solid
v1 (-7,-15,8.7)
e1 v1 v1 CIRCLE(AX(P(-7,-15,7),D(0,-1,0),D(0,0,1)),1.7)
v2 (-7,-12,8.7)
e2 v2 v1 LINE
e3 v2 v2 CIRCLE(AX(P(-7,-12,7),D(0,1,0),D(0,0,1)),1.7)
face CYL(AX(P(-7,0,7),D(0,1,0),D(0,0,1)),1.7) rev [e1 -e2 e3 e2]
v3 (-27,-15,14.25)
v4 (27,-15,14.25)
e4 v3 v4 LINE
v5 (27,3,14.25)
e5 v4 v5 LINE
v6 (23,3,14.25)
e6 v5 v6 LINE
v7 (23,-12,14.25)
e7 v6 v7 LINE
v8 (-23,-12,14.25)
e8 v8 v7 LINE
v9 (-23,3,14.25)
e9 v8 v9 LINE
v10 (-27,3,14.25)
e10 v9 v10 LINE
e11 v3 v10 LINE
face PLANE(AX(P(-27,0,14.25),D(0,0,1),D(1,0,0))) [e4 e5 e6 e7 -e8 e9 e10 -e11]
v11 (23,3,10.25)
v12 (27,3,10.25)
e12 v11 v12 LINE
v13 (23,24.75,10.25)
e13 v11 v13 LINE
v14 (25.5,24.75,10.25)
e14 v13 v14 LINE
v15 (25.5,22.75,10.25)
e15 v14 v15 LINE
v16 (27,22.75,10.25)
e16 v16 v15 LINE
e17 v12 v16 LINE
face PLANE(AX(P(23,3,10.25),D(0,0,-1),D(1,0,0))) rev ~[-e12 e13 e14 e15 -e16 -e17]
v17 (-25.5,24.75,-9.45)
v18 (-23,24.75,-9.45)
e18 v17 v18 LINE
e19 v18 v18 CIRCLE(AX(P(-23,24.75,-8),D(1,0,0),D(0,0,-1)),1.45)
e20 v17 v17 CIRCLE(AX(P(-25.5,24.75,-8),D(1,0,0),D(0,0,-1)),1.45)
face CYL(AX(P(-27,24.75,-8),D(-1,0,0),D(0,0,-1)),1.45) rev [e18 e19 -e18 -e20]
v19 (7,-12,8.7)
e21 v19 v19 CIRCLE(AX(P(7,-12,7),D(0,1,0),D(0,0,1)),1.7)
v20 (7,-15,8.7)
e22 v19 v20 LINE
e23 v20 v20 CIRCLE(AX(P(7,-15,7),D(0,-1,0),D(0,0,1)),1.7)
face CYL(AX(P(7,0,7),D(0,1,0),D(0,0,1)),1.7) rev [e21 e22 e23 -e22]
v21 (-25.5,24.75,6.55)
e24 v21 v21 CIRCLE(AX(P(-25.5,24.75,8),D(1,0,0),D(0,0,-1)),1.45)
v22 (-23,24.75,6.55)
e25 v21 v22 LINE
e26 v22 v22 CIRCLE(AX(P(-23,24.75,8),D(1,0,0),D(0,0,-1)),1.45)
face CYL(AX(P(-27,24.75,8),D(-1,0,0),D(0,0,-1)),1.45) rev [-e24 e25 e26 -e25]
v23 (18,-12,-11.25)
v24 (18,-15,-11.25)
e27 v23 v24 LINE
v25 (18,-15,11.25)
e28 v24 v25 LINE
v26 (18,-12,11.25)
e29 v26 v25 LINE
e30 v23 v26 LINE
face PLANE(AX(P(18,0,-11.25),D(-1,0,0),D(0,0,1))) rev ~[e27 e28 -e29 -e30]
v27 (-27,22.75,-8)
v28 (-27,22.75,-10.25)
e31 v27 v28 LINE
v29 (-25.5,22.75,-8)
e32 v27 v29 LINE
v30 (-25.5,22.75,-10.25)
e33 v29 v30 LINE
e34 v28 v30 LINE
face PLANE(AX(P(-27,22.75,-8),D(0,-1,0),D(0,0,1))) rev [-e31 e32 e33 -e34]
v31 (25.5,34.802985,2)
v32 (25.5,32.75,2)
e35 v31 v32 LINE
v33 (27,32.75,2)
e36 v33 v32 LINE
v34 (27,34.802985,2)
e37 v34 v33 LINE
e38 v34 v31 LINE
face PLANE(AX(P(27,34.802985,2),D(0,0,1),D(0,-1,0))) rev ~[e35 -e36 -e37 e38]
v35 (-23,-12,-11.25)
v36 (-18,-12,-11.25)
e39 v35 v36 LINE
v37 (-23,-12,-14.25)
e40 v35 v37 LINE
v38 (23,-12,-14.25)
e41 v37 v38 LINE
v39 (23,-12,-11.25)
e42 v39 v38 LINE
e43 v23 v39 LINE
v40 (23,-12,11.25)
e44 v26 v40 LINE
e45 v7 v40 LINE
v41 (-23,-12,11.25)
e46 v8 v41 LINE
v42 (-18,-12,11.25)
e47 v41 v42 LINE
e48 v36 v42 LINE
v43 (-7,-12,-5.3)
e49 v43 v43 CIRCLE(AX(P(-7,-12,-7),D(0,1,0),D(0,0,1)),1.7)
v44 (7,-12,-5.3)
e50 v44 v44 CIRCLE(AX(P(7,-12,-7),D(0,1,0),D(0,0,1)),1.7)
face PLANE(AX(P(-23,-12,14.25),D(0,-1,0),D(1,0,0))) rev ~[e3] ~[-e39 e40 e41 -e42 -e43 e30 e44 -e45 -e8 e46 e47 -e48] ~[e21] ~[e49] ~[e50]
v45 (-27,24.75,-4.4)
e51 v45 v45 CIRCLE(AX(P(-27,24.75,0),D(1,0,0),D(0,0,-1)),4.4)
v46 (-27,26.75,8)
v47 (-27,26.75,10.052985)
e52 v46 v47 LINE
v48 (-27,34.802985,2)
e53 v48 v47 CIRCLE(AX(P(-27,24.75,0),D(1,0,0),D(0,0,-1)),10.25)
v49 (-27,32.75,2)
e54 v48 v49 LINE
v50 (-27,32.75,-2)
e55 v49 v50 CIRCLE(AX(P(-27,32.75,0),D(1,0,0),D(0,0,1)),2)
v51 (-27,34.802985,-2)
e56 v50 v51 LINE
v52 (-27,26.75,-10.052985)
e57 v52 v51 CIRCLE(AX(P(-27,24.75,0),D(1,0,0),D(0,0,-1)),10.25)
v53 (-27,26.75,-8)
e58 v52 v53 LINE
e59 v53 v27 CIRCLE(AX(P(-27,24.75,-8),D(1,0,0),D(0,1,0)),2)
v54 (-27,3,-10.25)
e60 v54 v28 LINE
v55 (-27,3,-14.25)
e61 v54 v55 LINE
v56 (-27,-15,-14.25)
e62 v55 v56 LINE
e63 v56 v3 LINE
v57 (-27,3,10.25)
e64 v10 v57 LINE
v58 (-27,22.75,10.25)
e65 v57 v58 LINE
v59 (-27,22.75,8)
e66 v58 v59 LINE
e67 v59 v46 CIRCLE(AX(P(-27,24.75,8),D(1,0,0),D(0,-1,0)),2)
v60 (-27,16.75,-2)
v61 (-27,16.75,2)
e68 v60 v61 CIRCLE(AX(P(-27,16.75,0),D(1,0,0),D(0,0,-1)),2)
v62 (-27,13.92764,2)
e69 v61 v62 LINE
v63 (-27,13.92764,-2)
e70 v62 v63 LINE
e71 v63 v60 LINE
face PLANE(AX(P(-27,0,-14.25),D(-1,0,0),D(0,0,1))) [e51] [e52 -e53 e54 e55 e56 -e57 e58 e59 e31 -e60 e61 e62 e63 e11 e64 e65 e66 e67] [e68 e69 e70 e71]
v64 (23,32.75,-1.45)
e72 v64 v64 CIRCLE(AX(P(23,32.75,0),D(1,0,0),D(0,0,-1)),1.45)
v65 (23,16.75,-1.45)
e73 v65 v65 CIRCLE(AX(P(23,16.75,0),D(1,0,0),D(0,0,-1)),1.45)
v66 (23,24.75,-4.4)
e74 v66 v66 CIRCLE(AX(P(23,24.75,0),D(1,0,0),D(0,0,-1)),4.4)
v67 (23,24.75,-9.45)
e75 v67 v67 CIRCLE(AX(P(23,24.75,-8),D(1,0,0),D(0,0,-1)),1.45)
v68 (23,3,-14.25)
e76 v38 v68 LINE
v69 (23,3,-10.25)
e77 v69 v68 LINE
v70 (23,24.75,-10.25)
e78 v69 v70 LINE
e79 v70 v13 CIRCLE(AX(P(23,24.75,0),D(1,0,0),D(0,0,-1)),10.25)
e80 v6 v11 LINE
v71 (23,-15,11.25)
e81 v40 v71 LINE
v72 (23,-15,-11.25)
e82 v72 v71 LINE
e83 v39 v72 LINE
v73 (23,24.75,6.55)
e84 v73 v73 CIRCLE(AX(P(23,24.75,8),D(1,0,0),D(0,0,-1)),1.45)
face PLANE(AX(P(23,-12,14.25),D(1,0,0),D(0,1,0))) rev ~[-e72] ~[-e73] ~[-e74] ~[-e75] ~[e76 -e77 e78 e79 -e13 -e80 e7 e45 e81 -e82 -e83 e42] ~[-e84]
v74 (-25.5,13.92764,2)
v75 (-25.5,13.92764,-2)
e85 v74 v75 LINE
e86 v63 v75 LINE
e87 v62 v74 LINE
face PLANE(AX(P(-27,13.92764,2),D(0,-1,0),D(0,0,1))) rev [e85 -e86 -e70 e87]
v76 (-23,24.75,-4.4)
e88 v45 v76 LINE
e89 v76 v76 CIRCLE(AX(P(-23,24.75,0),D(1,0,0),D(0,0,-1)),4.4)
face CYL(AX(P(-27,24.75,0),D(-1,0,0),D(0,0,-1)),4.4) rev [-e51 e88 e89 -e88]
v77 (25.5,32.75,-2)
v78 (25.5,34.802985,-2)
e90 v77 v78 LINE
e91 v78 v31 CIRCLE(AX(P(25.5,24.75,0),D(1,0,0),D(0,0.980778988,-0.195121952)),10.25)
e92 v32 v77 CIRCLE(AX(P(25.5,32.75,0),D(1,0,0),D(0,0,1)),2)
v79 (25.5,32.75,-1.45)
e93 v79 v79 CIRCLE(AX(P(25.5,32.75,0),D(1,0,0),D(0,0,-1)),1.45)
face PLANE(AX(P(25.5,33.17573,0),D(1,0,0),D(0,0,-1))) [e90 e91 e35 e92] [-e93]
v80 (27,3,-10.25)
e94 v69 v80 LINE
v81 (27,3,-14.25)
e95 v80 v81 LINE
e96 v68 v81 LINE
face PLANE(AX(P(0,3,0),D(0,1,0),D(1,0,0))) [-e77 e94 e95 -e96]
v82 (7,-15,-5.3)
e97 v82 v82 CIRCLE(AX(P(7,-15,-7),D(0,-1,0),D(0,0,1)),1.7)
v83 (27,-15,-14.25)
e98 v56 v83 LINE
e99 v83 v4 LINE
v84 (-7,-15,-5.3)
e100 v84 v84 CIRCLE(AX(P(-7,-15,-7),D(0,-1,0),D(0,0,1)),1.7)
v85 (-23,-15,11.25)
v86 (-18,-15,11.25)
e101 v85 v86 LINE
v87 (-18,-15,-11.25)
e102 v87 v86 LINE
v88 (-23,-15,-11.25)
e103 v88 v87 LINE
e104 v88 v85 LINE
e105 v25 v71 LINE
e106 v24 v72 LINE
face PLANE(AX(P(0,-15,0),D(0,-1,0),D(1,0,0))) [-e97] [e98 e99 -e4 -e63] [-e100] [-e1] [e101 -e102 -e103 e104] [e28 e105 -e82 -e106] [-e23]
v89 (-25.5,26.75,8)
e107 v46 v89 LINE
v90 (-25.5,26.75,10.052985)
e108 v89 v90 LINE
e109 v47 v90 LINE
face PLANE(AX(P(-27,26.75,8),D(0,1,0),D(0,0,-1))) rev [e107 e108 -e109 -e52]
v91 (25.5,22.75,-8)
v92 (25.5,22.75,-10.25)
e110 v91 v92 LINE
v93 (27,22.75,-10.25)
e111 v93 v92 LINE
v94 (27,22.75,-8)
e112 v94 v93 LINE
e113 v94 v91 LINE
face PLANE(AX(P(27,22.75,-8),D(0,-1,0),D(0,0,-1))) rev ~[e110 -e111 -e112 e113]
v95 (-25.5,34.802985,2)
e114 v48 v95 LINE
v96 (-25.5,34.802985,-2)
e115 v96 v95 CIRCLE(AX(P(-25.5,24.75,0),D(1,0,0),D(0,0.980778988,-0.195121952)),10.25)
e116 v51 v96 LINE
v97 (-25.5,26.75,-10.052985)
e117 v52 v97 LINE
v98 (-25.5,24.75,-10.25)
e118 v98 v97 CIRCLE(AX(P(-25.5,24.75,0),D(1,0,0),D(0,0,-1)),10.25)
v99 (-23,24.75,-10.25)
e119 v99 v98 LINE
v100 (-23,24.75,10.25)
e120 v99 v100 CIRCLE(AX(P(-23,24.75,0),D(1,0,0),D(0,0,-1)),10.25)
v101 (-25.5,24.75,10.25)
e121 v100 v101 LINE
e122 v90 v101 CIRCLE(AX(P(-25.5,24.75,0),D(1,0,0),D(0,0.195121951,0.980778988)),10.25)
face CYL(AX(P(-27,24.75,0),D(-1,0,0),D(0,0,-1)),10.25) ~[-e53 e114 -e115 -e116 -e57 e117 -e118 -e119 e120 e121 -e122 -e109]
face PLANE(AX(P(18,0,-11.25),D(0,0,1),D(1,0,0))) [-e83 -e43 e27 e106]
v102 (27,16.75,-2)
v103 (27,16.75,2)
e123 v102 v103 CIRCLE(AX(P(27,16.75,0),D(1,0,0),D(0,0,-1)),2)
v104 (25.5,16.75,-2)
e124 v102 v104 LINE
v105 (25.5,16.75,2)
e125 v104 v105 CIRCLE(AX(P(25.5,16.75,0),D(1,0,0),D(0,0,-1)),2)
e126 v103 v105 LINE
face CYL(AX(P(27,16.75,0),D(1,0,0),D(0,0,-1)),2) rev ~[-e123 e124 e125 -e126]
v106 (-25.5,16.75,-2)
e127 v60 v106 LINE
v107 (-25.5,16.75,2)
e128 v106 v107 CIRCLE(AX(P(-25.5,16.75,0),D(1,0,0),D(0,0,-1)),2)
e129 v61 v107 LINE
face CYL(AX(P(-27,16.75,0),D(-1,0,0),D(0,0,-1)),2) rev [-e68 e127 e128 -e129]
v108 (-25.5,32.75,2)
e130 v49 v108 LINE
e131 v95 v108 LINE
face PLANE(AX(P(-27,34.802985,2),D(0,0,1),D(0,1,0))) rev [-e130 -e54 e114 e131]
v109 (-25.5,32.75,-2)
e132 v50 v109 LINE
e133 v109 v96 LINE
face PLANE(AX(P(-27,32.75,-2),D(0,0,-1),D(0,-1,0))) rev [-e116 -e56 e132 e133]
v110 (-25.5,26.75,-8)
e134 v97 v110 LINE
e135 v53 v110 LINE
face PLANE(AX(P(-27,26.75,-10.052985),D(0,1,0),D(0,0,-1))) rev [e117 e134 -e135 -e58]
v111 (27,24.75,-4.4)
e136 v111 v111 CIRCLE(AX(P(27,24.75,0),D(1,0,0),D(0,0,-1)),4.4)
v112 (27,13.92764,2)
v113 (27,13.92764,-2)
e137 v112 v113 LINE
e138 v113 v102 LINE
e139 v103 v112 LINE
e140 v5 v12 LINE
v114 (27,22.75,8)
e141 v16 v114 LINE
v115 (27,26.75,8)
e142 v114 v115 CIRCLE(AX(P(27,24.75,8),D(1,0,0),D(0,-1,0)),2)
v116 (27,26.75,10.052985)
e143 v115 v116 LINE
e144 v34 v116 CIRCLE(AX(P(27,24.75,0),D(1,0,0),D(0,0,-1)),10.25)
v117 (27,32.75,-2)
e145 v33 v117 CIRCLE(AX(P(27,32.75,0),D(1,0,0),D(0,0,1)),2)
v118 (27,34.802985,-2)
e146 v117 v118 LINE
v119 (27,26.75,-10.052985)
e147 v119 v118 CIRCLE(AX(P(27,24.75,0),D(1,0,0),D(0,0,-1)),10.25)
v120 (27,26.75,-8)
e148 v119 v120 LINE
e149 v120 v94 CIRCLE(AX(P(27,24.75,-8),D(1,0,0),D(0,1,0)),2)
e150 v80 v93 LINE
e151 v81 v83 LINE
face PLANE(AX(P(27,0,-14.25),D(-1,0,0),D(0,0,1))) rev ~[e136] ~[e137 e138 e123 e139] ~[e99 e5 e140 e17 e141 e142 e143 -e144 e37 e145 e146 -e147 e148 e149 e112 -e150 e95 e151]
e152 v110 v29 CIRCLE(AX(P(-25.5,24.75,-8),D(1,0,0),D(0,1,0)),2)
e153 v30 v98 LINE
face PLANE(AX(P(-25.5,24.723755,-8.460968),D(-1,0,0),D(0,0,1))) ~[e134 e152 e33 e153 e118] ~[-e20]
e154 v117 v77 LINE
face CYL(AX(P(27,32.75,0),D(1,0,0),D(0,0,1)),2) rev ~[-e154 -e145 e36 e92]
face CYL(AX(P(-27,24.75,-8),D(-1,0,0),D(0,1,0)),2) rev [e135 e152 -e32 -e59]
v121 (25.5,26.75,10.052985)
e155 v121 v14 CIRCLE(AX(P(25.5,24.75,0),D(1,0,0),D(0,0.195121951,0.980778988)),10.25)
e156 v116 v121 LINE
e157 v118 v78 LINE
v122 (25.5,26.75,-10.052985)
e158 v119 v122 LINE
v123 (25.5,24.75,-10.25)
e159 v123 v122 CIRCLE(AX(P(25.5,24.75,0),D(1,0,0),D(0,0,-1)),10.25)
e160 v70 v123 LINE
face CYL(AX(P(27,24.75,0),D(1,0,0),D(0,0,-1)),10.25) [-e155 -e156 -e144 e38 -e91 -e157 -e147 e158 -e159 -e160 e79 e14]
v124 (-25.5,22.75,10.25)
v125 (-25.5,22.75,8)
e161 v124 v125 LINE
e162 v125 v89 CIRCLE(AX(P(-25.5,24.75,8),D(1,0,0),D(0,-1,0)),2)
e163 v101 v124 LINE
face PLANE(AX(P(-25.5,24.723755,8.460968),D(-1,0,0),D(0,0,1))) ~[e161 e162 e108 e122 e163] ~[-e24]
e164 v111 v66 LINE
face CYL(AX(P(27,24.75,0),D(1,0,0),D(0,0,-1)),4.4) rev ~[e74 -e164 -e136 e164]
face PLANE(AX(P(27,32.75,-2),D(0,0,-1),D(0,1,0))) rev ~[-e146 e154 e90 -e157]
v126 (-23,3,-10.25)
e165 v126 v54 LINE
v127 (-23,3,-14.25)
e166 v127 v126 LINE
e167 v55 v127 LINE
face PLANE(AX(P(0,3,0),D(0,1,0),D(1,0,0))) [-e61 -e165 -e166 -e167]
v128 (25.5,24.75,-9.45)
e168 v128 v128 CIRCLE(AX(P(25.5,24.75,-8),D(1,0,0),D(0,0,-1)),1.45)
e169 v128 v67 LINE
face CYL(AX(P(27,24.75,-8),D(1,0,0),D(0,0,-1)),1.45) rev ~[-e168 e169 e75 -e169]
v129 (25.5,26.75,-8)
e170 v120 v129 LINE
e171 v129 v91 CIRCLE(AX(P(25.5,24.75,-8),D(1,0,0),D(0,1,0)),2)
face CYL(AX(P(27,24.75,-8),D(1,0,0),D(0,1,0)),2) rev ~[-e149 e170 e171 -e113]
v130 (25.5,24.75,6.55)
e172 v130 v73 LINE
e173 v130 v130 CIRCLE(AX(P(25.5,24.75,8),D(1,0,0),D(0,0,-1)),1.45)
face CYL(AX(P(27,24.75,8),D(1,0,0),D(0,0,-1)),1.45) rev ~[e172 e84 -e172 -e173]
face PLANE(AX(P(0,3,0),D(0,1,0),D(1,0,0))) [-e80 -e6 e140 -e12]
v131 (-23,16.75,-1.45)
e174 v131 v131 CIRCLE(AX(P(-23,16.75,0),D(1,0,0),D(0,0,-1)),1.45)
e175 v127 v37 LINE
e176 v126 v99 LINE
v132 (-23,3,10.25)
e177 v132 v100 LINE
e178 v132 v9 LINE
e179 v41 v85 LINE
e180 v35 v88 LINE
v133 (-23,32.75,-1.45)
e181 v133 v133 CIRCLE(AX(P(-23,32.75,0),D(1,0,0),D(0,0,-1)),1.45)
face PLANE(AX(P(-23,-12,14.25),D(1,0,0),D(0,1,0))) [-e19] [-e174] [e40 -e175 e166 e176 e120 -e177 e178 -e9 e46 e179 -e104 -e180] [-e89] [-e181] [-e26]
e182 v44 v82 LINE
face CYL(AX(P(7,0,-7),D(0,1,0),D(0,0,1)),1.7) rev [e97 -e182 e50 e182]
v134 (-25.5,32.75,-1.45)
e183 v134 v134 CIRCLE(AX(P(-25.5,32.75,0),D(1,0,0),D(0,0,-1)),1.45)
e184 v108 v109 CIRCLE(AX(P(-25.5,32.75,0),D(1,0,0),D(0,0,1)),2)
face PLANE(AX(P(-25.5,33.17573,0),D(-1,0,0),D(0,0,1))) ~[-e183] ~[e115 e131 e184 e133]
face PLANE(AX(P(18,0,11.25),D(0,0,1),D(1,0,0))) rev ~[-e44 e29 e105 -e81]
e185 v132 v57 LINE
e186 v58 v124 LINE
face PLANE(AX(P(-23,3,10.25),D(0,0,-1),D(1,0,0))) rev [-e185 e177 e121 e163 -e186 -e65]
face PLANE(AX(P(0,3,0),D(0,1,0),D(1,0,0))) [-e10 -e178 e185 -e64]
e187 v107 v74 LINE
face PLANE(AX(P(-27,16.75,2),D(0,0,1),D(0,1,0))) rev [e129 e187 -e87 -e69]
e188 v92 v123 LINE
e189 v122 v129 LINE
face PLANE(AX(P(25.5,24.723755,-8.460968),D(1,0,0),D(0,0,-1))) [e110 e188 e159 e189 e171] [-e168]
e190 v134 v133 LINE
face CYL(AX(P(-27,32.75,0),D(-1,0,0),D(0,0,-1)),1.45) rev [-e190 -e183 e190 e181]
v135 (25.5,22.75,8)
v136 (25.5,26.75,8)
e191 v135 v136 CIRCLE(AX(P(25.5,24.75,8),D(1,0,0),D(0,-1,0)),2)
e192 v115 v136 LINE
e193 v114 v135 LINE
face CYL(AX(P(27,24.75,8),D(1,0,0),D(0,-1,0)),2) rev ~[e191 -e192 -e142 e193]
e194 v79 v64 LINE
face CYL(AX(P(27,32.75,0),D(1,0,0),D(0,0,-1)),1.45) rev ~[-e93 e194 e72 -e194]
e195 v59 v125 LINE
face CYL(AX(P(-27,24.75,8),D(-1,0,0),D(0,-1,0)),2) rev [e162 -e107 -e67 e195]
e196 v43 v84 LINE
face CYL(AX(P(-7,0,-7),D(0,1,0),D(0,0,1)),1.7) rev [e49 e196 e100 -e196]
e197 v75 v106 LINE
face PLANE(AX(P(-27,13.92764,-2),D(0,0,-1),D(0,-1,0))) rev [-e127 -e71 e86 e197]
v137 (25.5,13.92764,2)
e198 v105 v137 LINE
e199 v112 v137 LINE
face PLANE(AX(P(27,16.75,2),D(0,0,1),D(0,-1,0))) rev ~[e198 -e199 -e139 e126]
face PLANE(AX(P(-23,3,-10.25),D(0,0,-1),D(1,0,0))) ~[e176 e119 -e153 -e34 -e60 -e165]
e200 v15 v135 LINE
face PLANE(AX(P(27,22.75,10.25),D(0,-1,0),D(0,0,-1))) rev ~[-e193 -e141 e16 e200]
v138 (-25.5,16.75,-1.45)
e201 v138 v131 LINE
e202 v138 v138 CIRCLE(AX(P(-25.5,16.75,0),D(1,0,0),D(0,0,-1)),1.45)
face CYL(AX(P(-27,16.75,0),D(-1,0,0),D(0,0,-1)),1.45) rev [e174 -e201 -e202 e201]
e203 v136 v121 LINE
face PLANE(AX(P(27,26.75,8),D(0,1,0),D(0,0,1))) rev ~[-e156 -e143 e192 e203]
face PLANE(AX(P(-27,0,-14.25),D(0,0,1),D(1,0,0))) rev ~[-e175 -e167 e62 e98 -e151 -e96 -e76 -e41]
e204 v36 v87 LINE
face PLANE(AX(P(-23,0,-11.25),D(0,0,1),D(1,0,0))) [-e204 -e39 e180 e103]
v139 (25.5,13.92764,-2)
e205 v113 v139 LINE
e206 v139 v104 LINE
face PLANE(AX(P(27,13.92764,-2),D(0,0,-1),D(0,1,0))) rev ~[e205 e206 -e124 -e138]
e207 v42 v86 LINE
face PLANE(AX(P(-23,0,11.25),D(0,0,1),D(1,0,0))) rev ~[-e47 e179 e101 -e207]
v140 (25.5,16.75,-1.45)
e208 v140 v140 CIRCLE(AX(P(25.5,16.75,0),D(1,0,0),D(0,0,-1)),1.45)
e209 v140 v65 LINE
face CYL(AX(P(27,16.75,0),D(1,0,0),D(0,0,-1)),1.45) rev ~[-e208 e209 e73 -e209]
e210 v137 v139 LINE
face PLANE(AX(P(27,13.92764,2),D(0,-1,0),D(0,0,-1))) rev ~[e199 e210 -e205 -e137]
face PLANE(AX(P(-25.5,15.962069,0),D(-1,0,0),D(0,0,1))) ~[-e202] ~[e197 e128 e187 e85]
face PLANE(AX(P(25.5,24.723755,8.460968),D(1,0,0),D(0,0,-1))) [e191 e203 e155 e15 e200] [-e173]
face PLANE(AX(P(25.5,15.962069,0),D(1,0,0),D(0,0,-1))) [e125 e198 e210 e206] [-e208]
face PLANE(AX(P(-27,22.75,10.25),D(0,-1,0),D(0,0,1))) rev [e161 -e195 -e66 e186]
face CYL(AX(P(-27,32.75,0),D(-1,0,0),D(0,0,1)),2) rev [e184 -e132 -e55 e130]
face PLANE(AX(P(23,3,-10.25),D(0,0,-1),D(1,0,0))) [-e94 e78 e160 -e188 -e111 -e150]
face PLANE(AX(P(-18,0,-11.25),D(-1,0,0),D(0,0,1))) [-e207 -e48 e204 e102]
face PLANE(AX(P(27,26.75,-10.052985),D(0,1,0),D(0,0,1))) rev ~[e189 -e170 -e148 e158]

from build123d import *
from build123d.topology import SkipClean

# Parameters (mm, degrees)
SKETCH1_W           = 54
SKETCH1_H           = 28.5
SKETCH1_W_2         = 5
SKETCH1_H_2         = 22.5
SKETCH1_R           = 1.7
SKETCH1_R_2         = 7.5
BOSS_EXTRUDE2_DEPTH = 3
SKETCH2_W           = 4
SKETCH2_H           = 20.5
BOSS_EXTRUDE3_DEPTH = 21.75
SKETCH4_R           = 10.25
BOSS_EXTRUDE4_DEPTH = 4
SKETCH6_R           = 4.4
SKETCH6_R_2         = 1.45
CUT_EXTRUDE3_DEPTH  = 4
SKETCH7_R           = 1.45
CUT_EXTRUDE4_DEPTH  = 1.5
SKETCH8_W           = 28.781481152
SKETCH8_H           = 28.5
BOSS_EXTRUDE5_DEPTH = 3
SKETCH9_R           = 1.7
CUT_EXTRUDE5_DEPTH  = 3
SKETCH10_W          = 54
SKETCH10_H          = 28.5
SKETCH10_R          = 1.7
SKETCH10_W_2        = 5
SKETCH10_H_2        = 22.5
BOSS_EXTRUDE6_DEPTH = 15
SKETCH11_W          = 46
SKETCH11_H          = 15
CUT_EXTRUDE6_DEPTH  = 53.595151868


with BuildPart() as part:
    # Sketch1 → Boss-Extrude2 (new body)
    with BuildSketch(Plane(origin=(0, 0, 0), x_dir=(1, 0, 0), z_dir=(0, 1, 0))):
        Rectangle(SKETCH1_W, SKETCH1_H)
        with Locations((20.5, 0)):
            Rectangle(SKETCH1_W_2, SKETCH1_H_2, mode=Mode.SUBTRACT)
        with Locations((-20.5, 0)):
            Rectangle(SKETCH1_W_2, SKETCH1_H_2, mode=Mode.SUBTRACT)
        with Locations(Location((-9, -8.25, 0), (0, 0, 270))):
            Circle(SKETCH1_R, mode=Mode.SUBTRACT)
        with Locations(Location((9, -8.25, 0), (0, 0, 270))):
            Circle(SKETCH1_R, mode=Mode.SUBTRACT)
        with Locations(Location((-9, 8.25, 0), (0, 0, 270))):
            Circle(SKETCH1_R, mode=Mode.SUBTRACT)
        with Locations(Location((0, 0, 0), (0, 0, 270))):
            Circle(SKETCH1_R_2, mode=Mode.SUBTRACT)
        with Locations(Location((9, 8.25, 0), (0, 0, 270))):
            Circle(SKETCH1_R, mode=Mode.SUBTRACT)
    extrude(amount=BOSS_EXTRUDE2_DEPTH)

    # Sketch2 → Boss-Extrude3 (add)
    with BuildSketch(Plane(origin=(0, 3, 0), x_dir=(1, 0, 0), z_dir=(0, 1, 0))):
        with Locations((25, 0)):
            Rectangle(SKETCH2_W, SKETCH2_H)
    boss_extrude3 = extrude(amount=BOSS_EXTRUDE3_DEPTH)

    # Sketch4 → Boss-Extrude4 (add)
    with BuildSketch(Plane(origin=(27, 0, 0), x_dir=(0, 0, -1), z_dir=(1, 0, 0))):
        with Locations((0, 24.75)):
            Circle(SKETCH4_R)
    boss_extrude4 = extrude(amount=-BOSS_EXTRUDE4_DEPTH)

    # Mirror1: Boss-Extrude3, Boss-Extrude4 across plane
    add(boss_extrude3.mirror(Plane(origin=(0, 0, 0), x_dir=(0, 0, 1), z_dir=(1, 0, 0))))
    add(boss_extrude4.mirror(Plane(origin=(0, 0, 0), x_dir=(0, 0, 1), z_dir=(1, 0, 0))))

    # Sketch6 → Cut-Extrude3 (cut)
    with BuildSketch(Plane(origin=(27, 0, 0), x_dir=(0, 0, -1), z_dir=(1, 0, 0))):
        with Locations((0, 24.75)):
            Circle(SKETCH6_R)
        with Locations((0, 32.75)):
            Circle(SKETCH6_R_2)
        with Locations((8, 24.75)):
            Circle(SKETCH6_R_2)
        with Locations((0, 16.75)):
            Circle(SKETCH6_R_2)
        with Locations((-8, 24.75)):
            Circle(SKETCH6_R_2)
    cut_extrude3 = extrude(amount=-CUT_EXTRUDE3_DEPTH, mode=Mode.SUBTRACT)

    # Mirror3: Cut-Extrude3 across plane
    add(cut_extrude3.mirror(Plane(origin=(0, 0, 0), x_dir=(0, 0, 1), z_dir=(1, 0, 0))), mode=Mode.SUBTRACT)

    # Sketch7 → Cut-Extrude4 (cut)
    # profile 1 of 4: a face of its own
    with BuildSketch(Plane(origin=(27, 0, 0), x_dir=(0, 0, -1), z_dir=(1, 0, 0))):
        with BuildLine():
            ThreePointArc((10.25, 24.75), (10.200627247, 25.754840168), (10.052984631, 26.75))
            Line((10.052984631, 26.75), (8, 26.75))
            ThreePointArc((8, 26.75), (6, 24.75), (8, 22.75))
            Line((8, 22.75), (10.25, 22.75))
            Line((10.25, 22.75), (10.25, 24.75))
        make_face()
        with Locations((8, 24.75)):
            Circle(SKETCH7_R, mode=Mode.SUBTRACT)
    # profile 2 of 4: a face of its own
    with BuildSketch(Plane(origin=(27, 0, 0), x_dir=(0, 0, -1), z_dir=(1, 0, 0))):
        with BuildLine():
            Line((2, 32.75), (2, 34.802984631))
            ThreePointArc((2, 34.802984631), (0, 35), (-2, 34.802984631))
            Line((-2, 34.802984631), (-2, 32.75))
            ThreePointArc((-2, 32.75), (0, 30.75), (2, 32.75))
        make_face()
        with Locations((0, 32.75)):
            Circle(SKETCH7_R, mode=Mode.SUBTRACT)
    # profile 3 of 4: a face of its own
    with BuildSketch(Plane(origin=(27, 0, 0), x_dir=(0, 0, -1), z_dir=(1, 0, 0))):
        with BuildLine():
            Line((-8, 26.75), (-10.052984631, 26.75))
            ThreePointArc((-10.052984631, 26.75), (-10.200627247, 25.754840168), (-10.25, 24.75))
            Line((-10.25, 24.75), (-10.25, 22.75))
            Line((-10.25, 22.75), (-8, 22.75))
            ThreePointArc((-8, 22.75), (-6, 24.75), (-8, 26.75))
        make_face()
        with Locations((-8, 24.75)):
            Circle(SKETCH7_R, mode=Mode.SUBTRACT)
    # profile 4 of 4: a face of its own
    with BuildSketch(Plane(origin=(27, 0, 0), x_dir=(0, 0, -1), z_dir=(1, 0, 0))):
        with BuildLine():
            Line((-2, 16.75), (-2, 13.927640071))
            Line((-2, 13.927640071), (2, 13.927640071))
            Line((2, 13.927640071), (2, 16.75))
            ThreePointArc((2, 16.75), (0, 18.75), (-2, 16.75))
        make_face()
        with Locations((0, 16.75)):
            Circle(SKETCH7_R, mode=Mode.SUBTRACT)
    cut_extrude4 = extrude(amount=-CUT_EXTRUDE4_DEPTH, mode=Mode.SUBTRACT)

    # Mirror4: Cut-Extrude4 across plane
    add(cut_extrude4.mirror(Plane(origin=(0, 0, 0), x_dir=(0, 0, 1), z_dir=(1, 0, 0))), mode=Mode.SUBTRACT)

    # Sketch8 → Boss-Extrude5 (add)
    with BuildSketch(Plane(origin=(0, 3, 0), x_dir=(1, 0, 0), z_dir=(0, 1, 0))):
        Rectangle(SKETCH8_W, SKETCH8_H)
    extrude(amount=-BOSS_EXTRUDE5_DEPTH)

    # Sketch9 → Cut-Extrude5 (cut)
    with BuildSketch(Plane(origin=(0, 3, 0), x_dir=(1, 0, 0), z_dir=(0, 1, 0))):
        with BuildLine():
            ThreePointArc((-5.3, -7), (-5.797918472, -5.797918472), (-7, -5.3))
            Line((-7, -5.3), (-7, -7))
            Line((-7, -7), (-5.3, -7))
        make_face()
        with BuildLine():
            Line((-7, -7), (-7, -5.3))
            ThreePointArc((-7, -5.3), (-8.202081528, -8.202081528), (-5.3, -7))
            Line((-5.3, -7), (-7, -7))
        make_face()
        with BuildLine():
            ThreePointArc((8.7, -7), (8.202081528, -5.797918472), (7, -5.3))
            Line((7, -5.3), (7, -7))
            Line((7, -7), (5.3, -7))
            ThreePointArc((5.3, -7), (7, -8.7), (8.7, -7))
        make_face()
        with BuildLine():
            Line((7, -7), (7, -5.3))
            ThreePointArc((7, -5.3), (5.797918472, -5.797918472), (5.3, -7))
            Line((5.3, -7), (7, -7))
        make_face()
        with BuildLine():
            ThreePointArc((8.7, 7), (7, 8.7), (5.3, 7))
            Line((5.3, 7), (7, 7))
            Line((7, 7), (7, 5.3))
            ThreePointArc((7, 5.3), (8.202081528, 5.797918472), (8.7, 7))
        make_face()
        with BuildLine():
            Line((7, 7), (5.3, 7))
            ThreePointArc((5.3, 7), (5.797918472, 5.797918472), (7, 5.3))
            Line((7, 5.3), (7, 7))
        make_face()
        with Locations(Location((-7, 7, 0), (0, 0, 270))):
            Circle(SKETCH9_R)
    extrude(amount=-CUT_EXTRUDE5_DEPTH, mode=Mode.SUBTRACT)

    # Sketch10 → Boss-Extrude6 (add)
    with SkipClean():  # the faces are left unmerged after this step: merging them gives an invalid solid
        with BuildSketch(Plane.XZ):
            Rectangle(SKETCH10_W, SKETCH10_H)
            with Locations(Location((-7, 7, 0), (0, 0, 90))):
                Circle(SKETCH10_R, mode=Mode.SUBTRACT)
            with Locations(Location((-7, -7, 0), (0, 0, 90))):
                Circle(SKETCH10_R, mode=Mode.SUBTRACT)
            with Locations(Location((7, -7, 0), (0, 0, 90))):
                Circle(SKETCH10_R, mode=Mode.SUBTRACT)
            with Locations(Location((7, 7, 0), (0, 0, 90))):
                Circle(SKETCH10_R, mode=Mode.SUBTRACT)
            with Locations((-20.5, 0)):
                Rectangle(SKETCH10_W_2, SKETCH10_H_2, mode=Mode.SUBTRACT)
            with Locations((20.5, 0)):
                Rectangle(SKETCH10_W_2, SKETCH10_H_2, mode=Mode.SUBTRACT)
        extrude(amount=BOSS_EXTRUDE6_DEPTH)

    # Sketch11 → Cut-Extrude6 (cut, through all)
    with BuildSketch(Plane.XY.offset(14.25)):
        with Locations((0, -4.5)):
            Rectangle(SKETCH11_W, SKETCH11_H)
    extrude(amount=-CUT_EXTRUDE6_DEPTH, mode=Mode.SUBTRACT)


solid = part.part
